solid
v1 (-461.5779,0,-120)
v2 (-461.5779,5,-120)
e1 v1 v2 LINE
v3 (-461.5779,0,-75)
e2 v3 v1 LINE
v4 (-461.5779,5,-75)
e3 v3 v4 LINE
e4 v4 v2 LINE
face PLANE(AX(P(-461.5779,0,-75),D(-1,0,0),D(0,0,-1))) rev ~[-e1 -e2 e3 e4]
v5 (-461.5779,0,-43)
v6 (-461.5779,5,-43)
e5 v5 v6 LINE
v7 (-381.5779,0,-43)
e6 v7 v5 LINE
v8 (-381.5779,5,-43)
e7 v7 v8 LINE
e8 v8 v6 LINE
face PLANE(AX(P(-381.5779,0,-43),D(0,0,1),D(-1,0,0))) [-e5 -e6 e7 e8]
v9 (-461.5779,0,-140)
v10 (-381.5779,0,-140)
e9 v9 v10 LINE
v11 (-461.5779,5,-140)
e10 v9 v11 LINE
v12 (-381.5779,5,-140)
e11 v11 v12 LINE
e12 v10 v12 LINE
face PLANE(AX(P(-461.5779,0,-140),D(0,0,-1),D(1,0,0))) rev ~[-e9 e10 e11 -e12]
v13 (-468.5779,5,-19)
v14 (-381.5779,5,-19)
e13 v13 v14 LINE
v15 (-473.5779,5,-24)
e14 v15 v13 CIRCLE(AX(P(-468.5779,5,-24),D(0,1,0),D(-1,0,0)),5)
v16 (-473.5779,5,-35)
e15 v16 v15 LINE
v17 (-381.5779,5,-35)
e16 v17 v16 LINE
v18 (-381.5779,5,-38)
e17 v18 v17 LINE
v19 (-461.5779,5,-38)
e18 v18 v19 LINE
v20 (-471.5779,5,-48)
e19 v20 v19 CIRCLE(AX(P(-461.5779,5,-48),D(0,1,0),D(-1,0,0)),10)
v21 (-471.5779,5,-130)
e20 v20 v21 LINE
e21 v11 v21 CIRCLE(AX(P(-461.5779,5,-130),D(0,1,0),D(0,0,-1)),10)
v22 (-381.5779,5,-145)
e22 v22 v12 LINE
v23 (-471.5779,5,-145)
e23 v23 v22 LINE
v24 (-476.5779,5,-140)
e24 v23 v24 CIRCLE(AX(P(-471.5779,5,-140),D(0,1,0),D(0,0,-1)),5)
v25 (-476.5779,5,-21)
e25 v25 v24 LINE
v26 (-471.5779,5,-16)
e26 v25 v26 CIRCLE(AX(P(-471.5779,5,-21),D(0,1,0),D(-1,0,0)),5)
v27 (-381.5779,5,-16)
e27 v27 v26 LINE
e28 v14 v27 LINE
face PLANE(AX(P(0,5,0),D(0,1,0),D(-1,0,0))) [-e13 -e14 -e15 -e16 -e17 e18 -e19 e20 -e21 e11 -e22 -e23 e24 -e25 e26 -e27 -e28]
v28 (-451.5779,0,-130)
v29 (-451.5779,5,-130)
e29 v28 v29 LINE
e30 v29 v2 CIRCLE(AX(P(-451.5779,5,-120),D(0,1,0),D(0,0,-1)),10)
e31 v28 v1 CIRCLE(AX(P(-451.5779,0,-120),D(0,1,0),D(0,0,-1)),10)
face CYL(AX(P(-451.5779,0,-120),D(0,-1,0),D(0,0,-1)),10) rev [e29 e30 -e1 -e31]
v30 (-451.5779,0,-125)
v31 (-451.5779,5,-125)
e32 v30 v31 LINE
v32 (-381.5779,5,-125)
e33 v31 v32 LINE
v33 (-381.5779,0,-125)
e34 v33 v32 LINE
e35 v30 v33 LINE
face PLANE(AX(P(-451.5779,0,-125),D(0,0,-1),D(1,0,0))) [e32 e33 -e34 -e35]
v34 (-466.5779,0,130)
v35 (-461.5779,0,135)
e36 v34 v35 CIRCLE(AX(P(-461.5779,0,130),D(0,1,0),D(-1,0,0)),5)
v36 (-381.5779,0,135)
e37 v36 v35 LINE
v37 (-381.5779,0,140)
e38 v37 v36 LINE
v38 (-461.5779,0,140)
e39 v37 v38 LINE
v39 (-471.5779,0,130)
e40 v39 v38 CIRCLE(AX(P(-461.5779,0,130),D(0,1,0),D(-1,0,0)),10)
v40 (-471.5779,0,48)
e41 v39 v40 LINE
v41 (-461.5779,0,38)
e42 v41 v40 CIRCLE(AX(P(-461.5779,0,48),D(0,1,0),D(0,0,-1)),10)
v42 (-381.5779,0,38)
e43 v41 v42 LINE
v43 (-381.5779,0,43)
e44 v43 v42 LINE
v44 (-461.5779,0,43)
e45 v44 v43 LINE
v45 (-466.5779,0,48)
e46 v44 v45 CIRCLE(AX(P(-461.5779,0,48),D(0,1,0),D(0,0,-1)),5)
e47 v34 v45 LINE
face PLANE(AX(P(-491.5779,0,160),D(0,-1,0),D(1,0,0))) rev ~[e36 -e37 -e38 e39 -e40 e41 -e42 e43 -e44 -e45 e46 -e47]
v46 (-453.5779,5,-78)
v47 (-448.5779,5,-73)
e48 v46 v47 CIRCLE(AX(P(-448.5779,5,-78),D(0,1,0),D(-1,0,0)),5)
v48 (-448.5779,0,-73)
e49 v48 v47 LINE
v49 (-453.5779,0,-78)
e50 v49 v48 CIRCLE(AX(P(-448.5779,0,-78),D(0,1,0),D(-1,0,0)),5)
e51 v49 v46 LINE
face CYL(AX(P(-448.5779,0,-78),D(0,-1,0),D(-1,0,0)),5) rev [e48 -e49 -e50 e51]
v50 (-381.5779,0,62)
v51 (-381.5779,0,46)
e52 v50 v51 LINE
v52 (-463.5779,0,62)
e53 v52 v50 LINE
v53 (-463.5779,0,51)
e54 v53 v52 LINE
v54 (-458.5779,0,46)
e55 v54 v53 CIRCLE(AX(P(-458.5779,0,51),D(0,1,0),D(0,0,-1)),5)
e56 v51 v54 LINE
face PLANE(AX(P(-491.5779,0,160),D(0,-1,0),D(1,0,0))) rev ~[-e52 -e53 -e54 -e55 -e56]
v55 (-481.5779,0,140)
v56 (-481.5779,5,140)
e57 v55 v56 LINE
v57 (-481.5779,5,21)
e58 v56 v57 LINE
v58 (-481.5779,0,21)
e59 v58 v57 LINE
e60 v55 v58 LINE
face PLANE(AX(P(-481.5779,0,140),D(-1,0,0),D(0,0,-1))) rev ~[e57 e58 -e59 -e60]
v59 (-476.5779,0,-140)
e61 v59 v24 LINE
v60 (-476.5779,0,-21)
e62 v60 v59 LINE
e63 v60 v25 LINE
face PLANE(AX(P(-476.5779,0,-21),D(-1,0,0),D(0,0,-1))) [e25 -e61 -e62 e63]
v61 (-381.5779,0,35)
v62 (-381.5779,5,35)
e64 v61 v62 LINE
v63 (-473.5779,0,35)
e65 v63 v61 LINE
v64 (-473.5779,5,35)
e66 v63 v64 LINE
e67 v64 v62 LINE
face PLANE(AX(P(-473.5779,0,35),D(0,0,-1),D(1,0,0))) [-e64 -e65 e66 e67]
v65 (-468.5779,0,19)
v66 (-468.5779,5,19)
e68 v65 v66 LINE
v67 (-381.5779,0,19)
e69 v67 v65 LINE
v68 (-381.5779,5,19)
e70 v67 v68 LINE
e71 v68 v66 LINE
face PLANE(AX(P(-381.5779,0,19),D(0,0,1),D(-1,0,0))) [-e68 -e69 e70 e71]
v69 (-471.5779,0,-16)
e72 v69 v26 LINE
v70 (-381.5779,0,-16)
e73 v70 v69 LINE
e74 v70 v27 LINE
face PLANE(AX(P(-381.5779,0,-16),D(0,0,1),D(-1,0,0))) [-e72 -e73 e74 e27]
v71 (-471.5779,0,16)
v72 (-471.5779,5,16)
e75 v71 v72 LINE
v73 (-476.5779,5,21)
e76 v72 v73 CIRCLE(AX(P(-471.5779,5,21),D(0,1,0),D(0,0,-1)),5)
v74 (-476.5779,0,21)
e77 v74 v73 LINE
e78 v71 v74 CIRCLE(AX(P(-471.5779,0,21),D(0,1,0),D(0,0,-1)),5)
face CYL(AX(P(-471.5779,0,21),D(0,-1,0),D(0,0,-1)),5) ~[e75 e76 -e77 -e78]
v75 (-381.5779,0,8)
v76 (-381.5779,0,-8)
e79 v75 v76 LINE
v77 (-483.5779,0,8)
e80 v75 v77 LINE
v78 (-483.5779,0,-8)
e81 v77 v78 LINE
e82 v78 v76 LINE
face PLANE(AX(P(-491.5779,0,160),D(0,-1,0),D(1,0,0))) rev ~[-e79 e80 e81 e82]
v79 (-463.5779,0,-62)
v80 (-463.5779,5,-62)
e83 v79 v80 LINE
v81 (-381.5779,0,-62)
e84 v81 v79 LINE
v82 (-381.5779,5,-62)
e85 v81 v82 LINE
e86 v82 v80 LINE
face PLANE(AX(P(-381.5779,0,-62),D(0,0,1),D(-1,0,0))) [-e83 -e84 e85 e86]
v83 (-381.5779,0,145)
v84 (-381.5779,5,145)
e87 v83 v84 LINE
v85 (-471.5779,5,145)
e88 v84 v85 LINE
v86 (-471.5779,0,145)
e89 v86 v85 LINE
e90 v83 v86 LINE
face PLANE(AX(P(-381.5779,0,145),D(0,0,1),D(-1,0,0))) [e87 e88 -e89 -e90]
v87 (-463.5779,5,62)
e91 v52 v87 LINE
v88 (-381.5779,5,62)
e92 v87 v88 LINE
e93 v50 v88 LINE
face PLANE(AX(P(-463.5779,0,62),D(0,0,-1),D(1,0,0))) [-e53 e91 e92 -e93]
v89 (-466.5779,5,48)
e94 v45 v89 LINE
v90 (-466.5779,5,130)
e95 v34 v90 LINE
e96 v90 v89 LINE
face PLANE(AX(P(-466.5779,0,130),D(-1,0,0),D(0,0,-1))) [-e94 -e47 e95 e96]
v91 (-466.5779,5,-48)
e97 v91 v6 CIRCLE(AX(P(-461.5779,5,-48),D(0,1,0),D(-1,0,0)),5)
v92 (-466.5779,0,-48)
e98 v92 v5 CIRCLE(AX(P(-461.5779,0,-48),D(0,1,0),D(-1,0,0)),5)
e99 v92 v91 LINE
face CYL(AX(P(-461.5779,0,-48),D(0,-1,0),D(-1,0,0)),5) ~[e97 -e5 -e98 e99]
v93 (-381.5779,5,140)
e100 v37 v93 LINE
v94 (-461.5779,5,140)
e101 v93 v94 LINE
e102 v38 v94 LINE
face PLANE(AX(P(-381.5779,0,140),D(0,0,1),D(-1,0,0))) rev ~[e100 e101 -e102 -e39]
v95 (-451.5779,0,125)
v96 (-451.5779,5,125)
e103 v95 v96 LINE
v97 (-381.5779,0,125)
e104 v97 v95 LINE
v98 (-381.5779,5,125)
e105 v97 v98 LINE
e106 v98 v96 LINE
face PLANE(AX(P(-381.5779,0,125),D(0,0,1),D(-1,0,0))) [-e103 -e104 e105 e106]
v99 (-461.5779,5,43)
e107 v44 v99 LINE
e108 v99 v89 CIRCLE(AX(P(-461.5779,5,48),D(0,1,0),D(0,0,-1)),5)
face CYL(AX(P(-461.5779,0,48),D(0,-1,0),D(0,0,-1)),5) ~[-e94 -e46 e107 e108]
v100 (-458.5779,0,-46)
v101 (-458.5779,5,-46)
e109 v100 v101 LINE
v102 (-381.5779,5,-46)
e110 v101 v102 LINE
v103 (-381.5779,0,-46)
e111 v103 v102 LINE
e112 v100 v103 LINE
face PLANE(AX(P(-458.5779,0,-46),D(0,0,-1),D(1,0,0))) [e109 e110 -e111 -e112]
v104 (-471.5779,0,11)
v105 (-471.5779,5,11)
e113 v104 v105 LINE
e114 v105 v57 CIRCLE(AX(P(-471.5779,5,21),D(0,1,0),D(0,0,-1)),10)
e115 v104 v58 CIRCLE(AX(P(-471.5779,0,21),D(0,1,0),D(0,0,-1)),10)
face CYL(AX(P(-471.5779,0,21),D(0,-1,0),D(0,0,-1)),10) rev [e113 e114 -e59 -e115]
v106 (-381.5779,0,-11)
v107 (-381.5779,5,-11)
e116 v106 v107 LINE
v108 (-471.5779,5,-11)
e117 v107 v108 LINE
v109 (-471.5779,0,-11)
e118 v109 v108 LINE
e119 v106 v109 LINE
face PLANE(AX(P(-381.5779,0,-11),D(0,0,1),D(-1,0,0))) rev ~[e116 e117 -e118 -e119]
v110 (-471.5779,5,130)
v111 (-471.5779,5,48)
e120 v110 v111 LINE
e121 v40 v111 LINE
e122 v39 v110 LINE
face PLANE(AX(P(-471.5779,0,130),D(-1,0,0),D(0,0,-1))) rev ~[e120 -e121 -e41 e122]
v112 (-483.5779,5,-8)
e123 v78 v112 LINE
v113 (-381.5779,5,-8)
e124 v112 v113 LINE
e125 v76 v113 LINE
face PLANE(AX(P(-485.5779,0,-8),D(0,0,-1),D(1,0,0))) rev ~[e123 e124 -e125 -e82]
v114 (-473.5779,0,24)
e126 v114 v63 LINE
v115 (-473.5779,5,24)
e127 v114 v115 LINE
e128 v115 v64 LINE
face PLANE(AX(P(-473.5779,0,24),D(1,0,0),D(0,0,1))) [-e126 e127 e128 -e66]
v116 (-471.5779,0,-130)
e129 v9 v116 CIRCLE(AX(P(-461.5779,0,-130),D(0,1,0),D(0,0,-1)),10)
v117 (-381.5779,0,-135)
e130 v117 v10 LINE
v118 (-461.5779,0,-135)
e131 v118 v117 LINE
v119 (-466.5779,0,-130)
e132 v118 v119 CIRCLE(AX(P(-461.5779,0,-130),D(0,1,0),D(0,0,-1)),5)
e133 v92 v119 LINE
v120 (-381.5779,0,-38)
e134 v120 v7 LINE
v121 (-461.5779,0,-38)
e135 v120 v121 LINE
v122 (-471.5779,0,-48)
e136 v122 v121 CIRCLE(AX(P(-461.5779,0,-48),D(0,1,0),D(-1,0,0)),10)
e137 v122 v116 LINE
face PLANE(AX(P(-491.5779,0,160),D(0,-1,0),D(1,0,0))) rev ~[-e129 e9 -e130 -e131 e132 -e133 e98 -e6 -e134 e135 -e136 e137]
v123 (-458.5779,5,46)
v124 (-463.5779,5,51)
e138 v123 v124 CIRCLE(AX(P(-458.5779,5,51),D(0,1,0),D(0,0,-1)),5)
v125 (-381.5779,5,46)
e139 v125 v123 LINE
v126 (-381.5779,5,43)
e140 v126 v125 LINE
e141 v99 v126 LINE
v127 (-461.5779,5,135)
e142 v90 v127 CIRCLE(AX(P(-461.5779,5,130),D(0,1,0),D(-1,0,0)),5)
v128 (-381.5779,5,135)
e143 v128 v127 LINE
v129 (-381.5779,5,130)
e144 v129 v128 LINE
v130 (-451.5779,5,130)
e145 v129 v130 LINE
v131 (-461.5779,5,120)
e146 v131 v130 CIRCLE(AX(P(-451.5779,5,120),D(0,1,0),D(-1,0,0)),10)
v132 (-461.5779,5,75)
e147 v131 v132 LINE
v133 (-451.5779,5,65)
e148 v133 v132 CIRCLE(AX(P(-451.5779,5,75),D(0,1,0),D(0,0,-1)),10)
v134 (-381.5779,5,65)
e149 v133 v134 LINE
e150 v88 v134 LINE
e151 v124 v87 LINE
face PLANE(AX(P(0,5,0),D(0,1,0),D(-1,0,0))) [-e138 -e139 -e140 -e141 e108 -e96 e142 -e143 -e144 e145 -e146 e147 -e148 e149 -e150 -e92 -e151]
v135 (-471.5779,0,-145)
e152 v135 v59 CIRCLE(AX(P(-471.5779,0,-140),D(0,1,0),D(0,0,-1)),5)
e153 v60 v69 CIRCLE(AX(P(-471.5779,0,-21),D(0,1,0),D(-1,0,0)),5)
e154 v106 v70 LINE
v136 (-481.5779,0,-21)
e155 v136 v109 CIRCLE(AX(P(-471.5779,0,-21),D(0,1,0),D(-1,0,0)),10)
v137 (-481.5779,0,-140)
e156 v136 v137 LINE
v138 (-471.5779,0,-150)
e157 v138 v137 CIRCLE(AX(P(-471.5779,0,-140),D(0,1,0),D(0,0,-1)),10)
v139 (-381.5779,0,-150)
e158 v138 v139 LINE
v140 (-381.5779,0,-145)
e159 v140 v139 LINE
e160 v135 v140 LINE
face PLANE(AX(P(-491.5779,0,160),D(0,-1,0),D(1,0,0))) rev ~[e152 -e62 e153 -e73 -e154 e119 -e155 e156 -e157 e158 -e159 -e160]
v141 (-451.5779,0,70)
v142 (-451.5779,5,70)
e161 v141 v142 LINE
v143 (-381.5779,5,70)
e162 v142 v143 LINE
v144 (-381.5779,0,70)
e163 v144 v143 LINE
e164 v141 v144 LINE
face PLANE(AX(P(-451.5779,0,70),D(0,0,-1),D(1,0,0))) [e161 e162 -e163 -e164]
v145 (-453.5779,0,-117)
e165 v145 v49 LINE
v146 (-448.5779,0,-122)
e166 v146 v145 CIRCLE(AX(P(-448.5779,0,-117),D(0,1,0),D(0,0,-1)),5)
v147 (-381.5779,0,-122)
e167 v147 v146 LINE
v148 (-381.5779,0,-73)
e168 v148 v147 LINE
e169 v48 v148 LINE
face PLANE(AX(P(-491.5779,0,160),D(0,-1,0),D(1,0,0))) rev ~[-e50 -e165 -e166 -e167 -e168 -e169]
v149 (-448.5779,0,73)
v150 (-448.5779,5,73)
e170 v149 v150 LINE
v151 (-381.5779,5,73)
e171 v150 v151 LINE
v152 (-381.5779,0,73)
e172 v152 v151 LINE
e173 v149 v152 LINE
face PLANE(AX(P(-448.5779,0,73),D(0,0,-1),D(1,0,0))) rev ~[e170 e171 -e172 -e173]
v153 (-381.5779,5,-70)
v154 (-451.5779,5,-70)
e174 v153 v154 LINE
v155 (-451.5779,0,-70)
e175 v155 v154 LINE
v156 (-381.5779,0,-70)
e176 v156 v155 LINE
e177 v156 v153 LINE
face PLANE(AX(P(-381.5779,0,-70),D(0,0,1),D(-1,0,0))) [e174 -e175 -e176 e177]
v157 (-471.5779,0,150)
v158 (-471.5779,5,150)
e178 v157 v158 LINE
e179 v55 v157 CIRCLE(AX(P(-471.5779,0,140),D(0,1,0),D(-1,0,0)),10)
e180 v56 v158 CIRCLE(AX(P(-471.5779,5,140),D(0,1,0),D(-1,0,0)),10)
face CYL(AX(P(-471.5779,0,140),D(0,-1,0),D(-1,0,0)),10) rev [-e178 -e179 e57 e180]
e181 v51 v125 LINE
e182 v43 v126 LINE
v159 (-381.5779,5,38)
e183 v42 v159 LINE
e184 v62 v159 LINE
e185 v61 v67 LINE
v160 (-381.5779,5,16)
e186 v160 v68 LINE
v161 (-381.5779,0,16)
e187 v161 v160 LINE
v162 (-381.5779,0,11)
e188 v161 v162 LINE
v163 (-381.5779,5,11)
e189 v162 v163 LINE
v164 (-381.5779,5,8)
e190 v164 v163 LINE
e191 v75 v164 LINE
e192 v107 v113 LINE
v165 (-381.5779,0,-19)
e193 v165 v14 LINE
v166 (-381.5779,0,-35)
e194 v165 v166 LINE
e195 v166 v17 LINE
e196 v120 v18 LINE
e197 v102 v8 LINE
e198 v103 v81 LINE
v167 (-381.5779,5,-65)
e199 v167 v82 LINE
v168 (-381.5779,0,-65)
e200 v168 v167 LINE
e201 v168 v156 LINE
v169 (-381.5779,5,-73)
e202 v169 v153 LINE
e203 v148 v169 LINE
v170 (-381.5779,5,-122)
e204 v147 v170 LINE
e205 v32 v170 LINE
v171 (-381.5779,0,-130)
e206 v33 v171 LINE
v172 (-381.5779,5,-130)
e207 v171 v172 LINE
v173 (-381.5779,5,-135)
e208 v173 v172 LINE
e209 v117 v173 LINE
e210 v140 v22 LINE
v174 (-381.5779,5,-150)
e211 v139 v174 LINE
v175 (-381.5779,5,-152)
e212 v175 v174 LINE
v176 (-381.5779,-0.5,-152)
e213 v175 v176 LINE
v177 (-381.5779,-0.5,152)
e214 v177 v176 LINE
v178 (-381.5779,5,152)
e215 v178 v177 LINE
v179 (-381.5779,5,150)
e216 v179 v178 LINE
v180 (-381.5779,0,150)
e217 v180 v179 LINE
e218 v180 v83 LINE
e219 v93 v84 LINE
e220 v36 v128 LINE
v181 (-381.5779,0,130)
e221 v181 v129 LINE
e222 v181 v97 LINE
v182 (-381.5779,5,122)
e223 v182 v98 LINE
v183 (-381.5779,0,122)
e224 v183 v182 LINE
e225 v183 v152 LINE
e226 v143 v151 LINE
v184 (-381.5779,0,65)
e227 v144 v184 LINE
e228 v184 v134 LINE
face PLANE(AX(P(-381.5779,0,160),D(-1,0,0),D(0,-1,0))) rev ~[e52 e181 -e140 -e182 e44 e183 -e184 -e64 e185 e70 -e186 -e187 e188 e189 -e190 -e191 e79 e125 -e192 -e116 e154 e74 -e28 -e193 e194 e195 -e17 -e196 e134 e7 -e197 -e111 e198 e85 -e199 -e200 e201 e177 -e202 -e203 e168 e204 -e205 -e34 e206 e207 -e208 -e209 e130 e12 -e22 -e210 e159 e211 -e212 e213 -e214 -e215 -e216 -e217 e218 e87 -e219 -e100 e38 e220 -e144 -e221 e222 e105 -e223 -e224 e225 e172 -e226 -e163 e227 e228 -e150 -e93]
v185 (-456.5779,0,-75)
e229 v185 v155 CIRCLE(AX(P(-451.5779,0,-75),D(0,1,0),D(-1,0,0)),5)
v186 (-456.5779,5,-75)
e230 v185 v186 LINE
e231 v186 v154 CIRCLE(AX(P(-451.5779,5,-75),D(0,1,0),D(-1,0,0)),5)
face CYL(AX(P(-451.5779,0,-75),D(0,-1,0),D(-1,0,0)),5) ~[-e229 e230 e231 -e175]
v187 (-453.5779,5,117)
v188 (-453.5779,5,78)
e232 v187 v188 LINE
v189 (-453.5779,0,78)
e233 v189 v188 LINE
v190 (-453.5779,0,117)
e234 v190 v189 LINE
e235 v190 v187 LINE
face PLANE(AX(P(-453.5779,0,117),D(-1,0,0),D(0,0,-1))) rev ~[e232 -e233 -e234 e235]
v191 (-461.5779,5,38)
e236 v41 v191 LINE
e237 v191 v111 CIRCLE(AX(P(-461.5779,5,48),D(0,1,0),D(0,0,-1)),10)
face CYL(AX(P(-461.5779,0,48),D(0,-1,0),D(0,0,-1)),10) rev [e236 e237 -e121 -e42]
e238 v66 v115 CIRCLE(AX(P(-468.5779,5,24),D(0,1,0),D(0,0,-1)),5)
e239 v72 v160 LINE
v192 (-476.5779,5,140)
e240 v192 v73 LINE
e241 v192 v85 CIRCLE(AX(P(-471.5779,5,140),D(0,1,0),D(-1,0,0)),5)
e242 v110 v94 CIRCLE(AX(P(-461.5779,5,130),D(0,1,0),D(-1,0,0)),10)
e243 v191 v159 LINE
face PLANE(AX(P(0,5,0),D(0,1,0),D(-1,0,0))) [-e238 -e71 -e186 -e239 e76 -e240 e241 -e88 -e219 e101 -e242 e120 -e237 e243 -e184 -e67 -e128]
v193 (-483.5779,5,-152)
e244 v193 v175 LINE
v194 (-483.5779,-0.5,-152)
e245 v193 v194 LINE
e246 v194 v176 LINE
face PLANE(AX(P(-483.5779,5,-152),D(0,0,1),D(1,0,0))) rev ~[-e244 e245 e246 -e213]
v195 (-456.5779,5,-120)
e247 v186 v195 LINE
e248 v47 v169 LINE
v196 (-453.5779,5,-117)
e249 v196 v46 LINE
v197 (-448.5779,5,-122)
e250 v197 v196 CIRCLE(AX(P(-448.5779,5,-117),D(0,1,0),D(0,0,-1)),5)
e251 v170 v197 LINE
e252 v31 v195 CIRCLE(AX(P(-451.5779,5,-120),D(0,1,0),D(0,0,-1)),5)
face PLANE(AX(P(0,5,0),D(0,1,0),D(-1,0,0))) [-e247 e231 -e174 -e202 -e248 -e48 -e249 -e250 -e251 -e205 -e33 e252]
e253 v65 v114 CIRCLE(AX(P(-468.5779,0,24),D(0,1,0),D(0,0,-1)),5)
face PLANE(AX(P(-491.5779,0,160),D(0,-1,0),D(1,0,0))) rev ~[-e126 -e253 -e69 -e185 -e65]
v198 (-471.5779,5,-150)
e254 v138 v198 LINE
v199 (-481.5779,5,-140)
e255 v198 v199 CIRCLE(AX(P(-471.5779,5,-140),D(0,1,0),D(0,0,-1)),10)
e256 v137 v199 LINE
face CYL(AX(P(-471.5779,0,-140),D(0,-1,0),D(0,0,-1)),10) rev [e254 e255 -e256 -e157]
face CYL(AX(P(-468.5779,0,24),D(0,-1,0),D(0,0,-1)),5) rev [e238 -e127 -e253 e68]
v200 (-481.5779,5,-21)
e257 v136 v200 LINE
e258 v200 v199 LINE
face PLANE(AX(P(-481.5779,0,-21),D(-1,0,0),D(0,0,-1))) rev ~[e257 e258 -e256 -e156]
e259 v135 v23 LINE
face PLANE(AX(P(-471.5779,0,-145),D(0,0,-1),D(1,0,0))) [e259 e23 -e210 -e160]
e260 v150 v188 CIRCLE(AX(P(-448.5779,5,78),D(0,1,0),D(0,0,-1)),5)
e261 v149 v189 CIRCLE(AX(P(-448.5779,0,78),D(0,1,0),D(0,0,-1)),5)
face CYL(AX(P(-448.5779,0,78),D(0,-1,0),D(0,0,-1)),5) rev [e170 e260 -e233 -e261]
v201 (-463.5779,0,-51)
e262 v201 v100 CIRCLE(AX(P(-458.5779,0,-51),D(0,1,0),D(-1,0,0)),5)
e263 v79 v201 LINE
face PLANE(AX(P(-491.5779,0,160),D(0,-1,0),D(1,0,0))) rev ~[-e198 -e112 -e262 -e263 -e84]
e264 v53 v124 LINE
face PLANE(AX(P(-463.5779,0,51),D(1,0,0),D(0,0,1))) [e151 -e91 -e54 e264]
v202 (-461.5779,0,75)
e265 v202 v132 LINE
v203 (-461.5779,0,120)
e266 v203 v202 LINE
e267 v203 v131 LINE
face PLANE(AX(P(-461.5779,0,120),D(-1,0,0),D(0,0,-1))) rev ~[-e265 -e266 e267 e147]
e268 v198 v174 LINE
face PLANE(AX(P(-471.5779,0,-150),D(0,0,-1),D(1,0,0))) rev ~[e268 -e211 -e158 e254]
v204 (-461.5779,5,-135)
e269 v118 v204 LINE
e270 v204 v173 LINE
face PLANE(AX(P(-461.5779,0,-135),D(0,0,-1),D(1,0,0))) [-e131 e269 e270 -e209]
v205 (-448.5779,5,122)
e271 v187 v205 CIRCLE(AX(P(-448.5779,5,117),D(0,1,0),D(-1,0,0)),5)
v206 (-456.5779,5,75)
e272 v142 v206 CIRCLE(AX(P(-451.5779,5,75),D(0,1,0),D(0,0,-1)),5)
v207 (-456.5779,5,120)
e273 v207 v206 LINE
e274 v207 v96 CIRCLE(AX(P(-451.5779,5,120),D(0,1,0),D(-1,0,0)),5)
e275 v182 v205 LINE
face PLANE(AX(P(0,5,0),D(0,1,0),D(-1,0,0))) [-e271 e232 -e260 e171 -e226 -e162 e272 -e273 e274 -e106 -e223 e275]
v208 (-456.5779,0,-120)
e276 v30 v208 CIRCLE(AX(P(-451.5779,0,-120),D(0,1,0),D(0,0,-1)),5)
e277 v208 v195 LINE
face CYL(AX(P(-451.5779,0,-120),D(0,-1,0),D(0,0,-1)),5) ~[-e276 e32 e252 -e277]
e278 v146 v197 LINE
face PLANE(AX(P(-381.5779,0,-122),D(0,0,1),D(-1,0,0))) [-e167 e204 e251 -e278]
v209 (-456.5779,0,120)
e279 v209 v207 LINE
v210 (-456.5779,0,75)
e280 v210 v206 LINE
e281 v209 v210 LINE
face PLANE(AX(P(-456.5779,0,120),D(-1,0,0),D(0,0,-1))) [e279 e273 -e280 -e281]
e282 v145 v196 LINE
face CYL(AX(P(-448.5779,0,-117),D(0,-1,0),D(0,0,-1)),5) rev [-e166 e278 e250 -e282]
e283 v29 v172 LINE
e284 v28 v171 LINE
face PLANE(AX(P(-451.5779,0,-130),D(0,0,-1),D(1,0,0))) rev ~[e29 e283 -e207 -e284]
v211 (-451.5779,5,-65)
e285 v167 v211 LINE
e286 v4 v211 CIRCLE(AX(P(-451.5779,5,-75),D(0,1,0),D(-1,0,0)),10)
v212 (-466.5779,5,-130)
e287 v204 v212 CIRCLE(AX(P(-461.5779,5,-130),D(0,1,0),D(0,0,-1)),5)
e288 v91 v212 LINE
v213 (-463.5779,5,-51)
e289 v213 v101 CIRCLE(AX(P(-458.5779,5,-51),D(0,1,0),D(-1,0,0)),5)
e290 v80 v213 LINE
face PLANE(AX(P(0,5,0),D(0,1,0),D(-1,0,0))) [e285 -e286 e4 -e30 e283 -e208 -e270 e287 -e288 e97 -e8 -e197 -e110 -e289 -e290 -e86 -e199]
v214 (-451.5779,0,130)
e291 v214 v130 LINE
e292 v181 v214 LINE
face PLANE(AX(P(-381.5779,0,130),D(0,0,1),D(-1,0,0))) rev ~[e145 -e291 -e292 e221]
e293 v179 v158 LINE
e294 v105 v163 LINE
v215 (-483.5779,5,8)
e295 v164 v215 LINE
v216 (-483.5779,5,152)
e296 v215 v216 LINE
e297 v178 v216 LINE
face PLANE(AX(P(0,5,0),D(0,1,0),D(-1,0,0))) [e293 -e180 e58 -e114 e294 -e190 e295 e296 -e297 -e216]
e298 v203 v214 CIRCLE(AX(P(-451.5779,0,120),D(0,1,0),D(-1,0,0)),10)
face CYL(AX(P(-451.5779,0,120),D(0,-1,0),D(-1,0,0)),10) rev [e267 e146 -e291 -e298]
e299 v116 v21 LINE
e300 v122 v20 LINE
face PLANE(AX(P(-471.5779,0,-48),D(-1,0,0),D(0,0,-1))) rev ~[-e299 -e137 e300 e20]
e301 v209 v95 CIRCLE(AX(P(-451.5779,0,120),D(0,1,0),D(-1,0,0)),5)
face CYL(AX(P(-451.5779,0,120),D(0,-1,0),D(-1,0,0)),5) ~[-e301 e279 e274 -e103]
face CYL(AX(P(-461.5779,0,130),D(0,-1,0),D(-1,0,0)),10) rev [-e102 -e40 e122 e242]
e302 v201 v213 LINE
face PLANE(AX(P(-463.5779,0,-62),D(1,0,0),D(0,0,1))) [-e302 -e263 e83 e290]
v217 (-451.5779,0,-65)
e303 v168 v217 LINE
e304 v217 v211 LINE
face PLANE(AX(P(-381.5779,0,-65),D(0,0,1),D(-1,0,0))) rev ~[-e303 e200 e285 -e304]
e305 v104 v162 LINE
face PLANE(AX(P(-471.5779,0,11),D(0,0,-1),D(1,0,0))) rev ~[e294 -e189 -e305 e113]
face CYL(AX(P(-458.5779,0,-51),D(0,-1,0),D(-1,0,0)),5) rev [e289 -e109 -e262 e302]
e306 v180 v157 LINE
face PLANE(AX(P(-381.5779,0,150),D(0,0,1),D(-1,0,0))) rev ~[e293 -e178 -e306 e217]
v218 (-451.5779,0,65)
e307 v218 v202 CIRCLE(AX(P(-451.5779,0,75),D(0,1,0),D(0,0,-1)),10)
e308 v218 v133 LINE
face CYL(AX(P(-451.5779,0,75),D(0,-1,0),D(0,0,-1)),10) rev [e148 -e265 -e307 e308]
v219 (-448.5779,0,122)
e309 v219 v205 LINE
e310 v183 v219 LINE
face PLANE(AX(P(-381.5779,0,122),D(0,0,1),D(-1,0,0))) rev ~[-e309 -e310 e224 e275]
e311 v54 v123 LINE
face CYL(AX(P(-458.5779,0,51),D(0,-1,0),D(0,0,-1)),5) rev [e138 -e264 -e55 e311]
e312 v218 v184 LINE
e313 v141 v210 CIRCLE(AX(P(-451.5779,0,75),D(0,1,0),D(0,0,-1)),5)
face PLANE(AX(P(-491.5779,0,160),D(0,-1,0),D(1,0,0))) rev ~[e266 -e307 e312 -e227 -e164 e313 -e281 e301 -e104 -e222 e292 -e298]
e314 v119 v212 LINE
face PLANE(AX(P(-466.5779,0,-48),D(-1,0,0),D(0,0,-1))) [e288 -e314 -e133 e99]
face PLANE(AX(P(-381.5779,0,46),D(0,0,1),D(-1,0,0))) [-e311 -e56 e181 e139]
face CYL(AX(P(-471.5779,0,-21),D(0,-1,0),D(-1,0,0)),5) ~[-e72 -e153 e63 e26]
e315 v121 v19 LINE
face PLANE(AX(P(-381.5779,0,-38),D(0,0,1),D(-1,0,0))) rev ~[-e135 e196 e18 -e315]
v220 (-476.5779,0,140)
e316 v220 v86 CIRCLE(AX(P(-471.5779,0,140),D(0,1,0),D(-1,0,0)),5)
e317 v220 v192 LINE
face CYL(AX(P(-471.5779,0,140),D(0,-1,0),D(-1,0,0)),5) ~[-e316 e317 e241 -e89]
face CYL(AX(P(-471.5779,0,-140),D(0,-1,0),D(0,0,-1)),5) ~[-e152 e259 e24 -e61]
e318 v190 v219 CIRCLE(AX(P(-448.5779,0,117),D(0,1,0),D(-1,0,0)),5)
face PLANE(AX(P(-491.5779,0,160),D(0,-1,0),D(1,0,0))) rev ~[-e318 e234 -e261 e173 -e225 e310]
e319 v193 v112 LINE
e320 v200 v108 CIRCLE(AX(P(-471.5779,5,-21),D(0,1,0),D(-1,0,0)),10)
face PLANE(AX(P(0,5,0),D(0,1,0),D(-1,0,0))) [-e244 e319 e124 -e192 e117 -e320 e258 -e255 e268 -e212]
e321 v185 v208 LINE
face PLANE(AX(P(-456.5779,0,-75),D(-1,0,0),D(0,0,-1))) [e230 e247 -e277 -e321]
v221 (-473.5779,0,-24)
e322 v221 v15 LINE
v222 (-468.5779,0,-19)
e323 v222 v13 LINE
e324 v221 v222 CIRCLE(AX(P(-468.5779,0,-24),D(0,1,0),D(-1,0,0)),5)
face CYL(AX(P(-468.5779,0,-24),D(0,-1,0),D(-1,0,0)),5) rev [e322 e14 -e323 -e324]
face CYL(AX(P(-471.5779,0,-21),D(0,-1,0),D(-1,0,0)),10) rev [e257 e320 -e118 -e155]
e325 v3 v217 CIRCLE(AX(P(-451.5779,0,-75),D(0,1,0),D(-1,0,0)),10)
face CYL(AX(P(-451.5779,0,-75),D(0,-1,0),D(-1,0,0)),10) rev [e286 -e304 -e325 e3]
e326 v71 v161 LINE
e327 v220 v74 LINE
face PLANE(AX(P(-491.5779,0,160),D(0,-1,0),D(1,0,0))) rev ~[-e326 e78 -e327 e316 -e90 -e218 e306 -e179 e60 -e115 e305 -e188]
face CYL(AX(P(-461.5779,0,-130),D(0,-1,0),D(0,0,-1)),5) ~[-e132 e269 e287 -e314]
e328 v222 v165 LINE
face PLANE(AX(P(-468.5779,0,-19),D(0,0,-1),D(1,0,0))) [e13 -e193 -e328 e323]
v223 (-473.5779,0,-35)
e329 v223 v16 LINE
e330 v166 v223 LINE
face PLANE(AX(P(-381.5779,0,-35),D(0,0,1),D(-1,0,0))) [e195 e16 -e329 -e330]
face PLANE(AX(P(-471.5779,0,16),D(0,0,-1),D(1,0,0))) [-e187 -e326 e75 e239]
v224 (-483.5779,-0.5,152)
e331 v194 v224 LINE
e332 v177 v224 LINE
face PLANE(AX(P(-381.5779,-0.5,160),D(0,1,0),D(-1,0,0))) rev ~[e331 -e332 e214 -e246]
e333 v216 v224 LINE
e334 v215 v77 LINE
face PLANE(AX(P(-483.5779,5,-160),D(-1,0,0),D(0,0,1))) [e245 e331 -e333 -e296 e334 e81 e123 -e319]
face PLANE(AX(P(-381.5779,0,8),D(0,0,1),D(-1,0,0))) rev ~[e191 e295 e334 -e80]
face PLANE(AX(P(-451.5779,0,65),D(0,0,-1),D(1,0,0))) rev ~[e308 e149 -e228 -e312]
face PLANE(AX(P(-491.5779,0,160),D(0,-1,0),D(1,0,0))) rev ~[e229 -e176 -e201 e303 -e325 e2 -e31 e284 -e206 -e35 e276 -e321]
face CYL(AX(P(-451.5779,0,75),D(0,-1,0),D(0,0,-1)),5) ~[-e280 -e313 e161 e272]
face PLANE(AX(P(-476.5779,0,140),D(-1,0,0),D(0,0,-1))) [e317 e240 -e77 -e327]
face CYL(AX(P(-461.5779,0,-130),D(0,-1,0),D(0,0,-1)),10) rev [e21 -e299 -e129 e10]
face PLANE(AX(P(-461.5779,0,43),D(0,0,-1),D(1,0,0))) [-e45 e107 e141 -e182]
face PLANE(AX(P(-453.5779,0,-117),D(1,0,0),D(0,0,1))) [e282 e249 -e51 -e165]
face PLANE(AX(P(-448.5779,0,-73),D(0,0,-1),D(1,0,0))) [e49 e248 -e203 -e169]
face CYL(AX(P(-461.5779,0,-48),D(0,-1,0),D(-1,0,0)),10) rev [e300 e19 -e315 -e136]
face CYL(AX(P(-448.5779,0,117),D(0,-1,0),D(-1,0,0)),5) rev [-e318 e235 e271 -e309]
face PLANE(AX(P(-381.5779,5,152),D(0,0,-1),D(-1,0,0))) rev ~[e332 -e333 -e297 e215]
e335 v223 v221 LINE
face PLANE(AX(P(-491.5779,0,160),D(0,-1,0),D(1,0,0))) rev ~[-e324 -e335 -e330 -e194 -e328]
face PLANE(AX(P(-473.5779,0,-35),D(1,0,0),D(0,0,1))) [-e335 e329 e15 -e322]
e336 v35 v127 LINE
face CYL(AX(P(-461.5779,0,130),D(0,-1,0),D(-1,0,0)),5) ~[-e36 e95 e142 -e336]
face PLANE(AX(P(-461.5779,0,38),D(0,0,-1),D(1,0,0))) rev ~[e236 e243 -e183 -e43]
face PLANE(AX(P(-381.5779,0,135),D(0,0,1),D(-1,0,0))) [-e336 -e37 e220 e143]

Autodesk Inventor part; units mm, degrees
ref_plane "YZ Plane" through (0, 0, 0) normal (1, 0, 0) x (0, 1, 0)
ref_plane "XZ Plane" through (0, 0, 0) normal (0, 1, 0) x (-1, 0, 0)
ref_plane "XY Plane" through (0, 0, 0) normal (0, 0, 1) x (1, 0, 0)
sketch "Sketch1" plane through (0, 0, 0) normal (0, 1, 0) x (-1, 0, 0)
  line L0 (381.5779, 150) -> (471.5779, 150)
  line L1 (481.5779, 140) -> (481.5779, 21)
  line L2 (381.5779, 145) -> (471.5779, 145)
  line L3 (476.5779, 140) -> (476.5779, 21)
  line L4 (471.5779, 16) -> (381.5779, 16)
  line L5 (471.5779, 11) -> (381.5779, 11)
  line L6 (381.5779, 135) -> (461.5779, 135)
  line L7 (381.5779, 140) -> (461.5779, 140)
  line L8 (466.5779, 130) -> (466.5779, 48)
  line L9 (461.5779, 43) -> (381.5779, 43)
  line L10 (471.5779, 130) -> (471.5779, 48)
  line L11 (461.5779, 38) -> (381.5779, 38)
  line L12 (381.5779, 125) -> (451.5779, 125)
  line L13 (456.5779, 120) -> (456.5779, 75)
  line L14 (451.5779, 70) -> (381.5779, 70)
  line L15 (381.5779, 130) -> (451.5779, 130)
  line L16 (461.5779, 120) -> (461.5779, 75)
  line L17 (451.5779, 65) -> (381.5779, 65)
  line L18 (381.5779, -11) -> (471.5779, -11)
  line L19 (481.5779, -21) -> (481.5779, -140)
  line L20 (471.5779, -150) -> (381.5779, -150)
  line L21 (381.5779, -16) -> (471.5779, -16)
  line L22 (476.5779, -21) -> (476.5779, -140)
  line L23 (471.5779, -145) -> (381.5779, -145)
  line L24 (381.5779, -38) -> (461.5779, -38)
  line L25 (471.5779, -48) -> (471.5779, -130)
  line L26 (461.5779, -140) -> (381.5779, -140)
  line L27 (381.5779, -43) -> (461.5779, -43)
  line L28 (466.5779, -48) -> (466.5779, -130)
  line L29 (461.5779, -135) -> (381.5779, -135)
  line L30 (381.5779, -65) -> (451.5779, -65)
  line L31 (461.5779, -75) -> (461.5779, -120)
  line L32 (381.5779, -70) -> (451.5779, -70)
  line L33 (456.5779, -75) -> (456.5779, -120)
  line L34 (451.5779, -125) -> (381.5779, -125)
  line L35 (451.5779, -130) -> (381.5779, -130)
  line L36 (491.5779, 160) -> (491.5779, -160)
  line L37 (491.5779, -160) -> (381.5779, -160)
  line L38 (381.5779, 160) -> (491.5779, 160)
  line L39 (381.5779, -212.9987) -> (381.5779, 354.6855) construction
  line L40 (381.5779, -160) -> (381.5779, 160)
  line L41 (381.5779, 122) -> (448.5779, 122)
  line L42 (453.5779, 117) -> (453.5779, 78)
  line L43 (448.5779, 73) -> (381.5779, 73)
  line L44 (381.5779, 73) -> (381.5779, 122)
  line L45 (463.5779, 62) -> (381.5779, 62)
  line L46 (381.5779, 62) -> (381.5779, 46)
  line L47 (381.5779, 46) -> (458.5779, 46)
  line L48 (463.5779, 51) -> (463.5779, 62)
  line L49 (381.5779, 8) -> (485.5779, 8)
  line L50 (485.5779, 8) -> (485.5779, -8)
  line L51 (485.5779, -8) -> (381.5779, -8)
  line L52 (381.5779, -8) -> (381.5779, 8)
  line L53 (473.5779, 35) -> (381.5779, 35)
  line L54 (381.5779, 35) -> (381.5779, 19)
  line L55 (381.5779, 19) -> (468.5779, 19)
  line L56 (473.5779, 24) -> (473.5779, 35)
  line L57 (468.5779, -19) -> (381.5779, -19)
  line L58 (381.5779, -19) -> (381.5779, -35)
  line L59 (381.5779, -35) -> (473.5779, -35)
  line L60 (473.5779, -35) -> (473.5779, -24)
  line L61 (458.5779, -46) -> (381.5779, -46)
  line L62 (381.5779, -46) -> (381.5779, -62)
  line L63 (381.5779, -62) -> (463.5779, -62)
  line L64 (463.5779, -62) -> (463.5779, -51)
  line L65 (448.5779, -73) -> (381.5779, -73)
  line L66 (381.5779, -73) -> (381.5779, -122)
  line L67 (381.5779, -122) -> (448.5779, -122)
  line L68 (453.5779, -117) -> (453.5779, -78)
  line L69 (461.5779, 130) -> (456.5779, 130) construction
  line L70 (456.5779, 130) -> (456.5779, 125) construction
  line L71 (456.5779, 125) -> (461.5779, 125) construction
  line L72 (461.5779, 125) -> (461.5779, 130) construction
  line L73 (456.5779, 125) -> (451.5779, 125) construction
  line L74 (451.5779, 125) -> (451.5779, 120) construction
  line L75 (451.5779, 120) -> (456.5779, 120) construction
  line L76 (456.5779, 120) -> (456.5779, 125) construction
  arc A0 (456.5779, 120) -> (451.5779, 125) centre (451.5779, 120) ccw
  arc A1 (461.5779, 120) -> (451.5779, 130) centre (451.5779, 120) ccw
  arc A2 (471.5779, 130) -> (461.5779, 140) centre (461.5779, 130) ccw
  arc A3 (466.5779, 130) -> (461.5779, 135) centre (461.5779, 130) ccw
  arc A4 (476.5779, 140) -> (471.5779, 145) centre (471.5779, 140) ccw
  arc A5 (481.5779, 140) -> (471.5779, 150) centre (471.5779, 140) ccw
  arc A6 (453.5779, 117) -> (448.5779, 122) centre (448.5779, 117) ccw
  arc A7 (448.5779, 73) -> (453.5779, 78) centre (448.5779, 78) ccw
  arc A8 (451.5779, 70) -> (456.5779, 75) centre (451.5779, 75) ccw
  arc A9 (451.5779, 65) -> (461.5779, 75) centre (451.5779, 75) ccw
  arc A10 (461.5779, 38) -> (471.5779, 48) centre (461.5779, 48) ccw
  arc A11 (471.5779, 11) -> (481.5779, 21) centre (471.5779, 21) ccw
  arc A12 (471.5779, 16) -> (476.5779, 21) centre (471.5779, 21) ccw
  arc A13 (461.5779, 43) -> (466.5779, 48) centre (461.5779, 48) ccw
  arc A14 (458.5779, 46) -> (463.5779, 51) centre (458.5779, 51) ccw
  arc A15 (468.5779, 19) -> (473.5779, 24) centre (468.5779, 24) ccw
  arc A16 (453.5779, -78) -> (448.5779, -73) centre (448.5779, -78) ccw
  arc A17 (456.5779, -75) -> (451.5779, -70) centre (451.5779, -75) ccw
  arc A18 (451.5779, -125) -> (456.5779, -120) centre (451.5779, -120) ccw
  arc A19 (448.5779, -122) -> (453.5779, -117) centre (448.5779, -117) ccw
  arc A20 (461.5779, -75) -> (451.5779, -65) centre (451.5779, -75) ccw
  arc A21 (451.5779, -130) -> (461.5779, -120) centre (451.5779, -120) ccw
  arc A22 (461.5779, -140) -> (471.5779, -130) centre (461.5779, -130) ccw
  arc A23 (461.5779, -135) -> (466.5779, -130) centre (461.5779, -130) ccw
  arc A24 (466.5779, -48) -> (461.5779, -43) centre (461.5779, -48) ccw
  arc A25 (463.5779, -51) -> (458.5779, -46) centre (458.5779, -51) ccw
  arc A26 (471.5779, -48) -> (461.5779, -38) centre (461.5779, -48) ccw
  arc A27 (471.5779, -150) -> (481.5779, -140) centre (471.5779, -140) ccw
  arc A28 (481.5779, -21) -> (471.5779, -11) centre (471.5779, -21) ccw
  arc A29 (476.5779, -21) -> (471.5779, -16) centre (471.5779, -21) ccw
  arc A30 (473.5779, -24) -> (468.5779, -19) centre (468.5779, -24) ccw
  arc A31 (471.5779, -145) -> (476.5779, -140) centre (471.5779, -140) ccw
  point P0 (481.5779, 150)
  point P1 (481.5779, 11)
  point P2 (476.5779, 145)
  point P3 (476.5779, 16)
  point P4 (466.5779, 135)
  point P5 (466.5779, 43)
  point P6 (471.5779, 38)
  point P7 (456.5779, 70)
  point P8 (461.5779, 65)
  point P9 (481.5779, -11)
  point P10 (481.5779, -150)
  point P11 (476.5779, -16)
  point P12 (476.5779, -145)
  point P13 (471.5779, -38)
  point P14 (471.5779, -140)
  point P15 (466.5779, -43)
  point P16 (466.5779, -135)
  point P17 (461.5779, -65)
  point P18 (461.5779, -130)
  point P19 (456.5779, -70)
  point P20 (456.5779, -125)
  point P21 (453.5779, 73)
  point P22 (453.5779, 122)
  point P23 (463.5779, 46)
  point P24 (473.5779, 19)
  point P25 (473.5779, -19)
  point P26 (463.5779, -46)
  point P27 (453.5779, -73)
  point P28 (453.5779, -122)
  dimension "d3" = 5
  dimension "d4" = 5
  dimension "d7" = 5
  dimension "d8" = 5
  dimension "d9" = 5
  dimension "d10" = 5
  dimension "d14" = 5
  dimension "d16" = 5
  dimension "d18" = 5
  dimension "d19" = 5
  dimension "d20" = 22
  dimension "d21" = 5
  dimension "d22" = 5
  dimension "d30" = 5
  dimension "d31" = 5
  dimension "d32" = 5
  dimension "d36" = 5
  dimension "d37" = 5
  dimension "d38" = 5
  dimension "d40" = 5
  dimension "d43" = 5
  dimension "d44" = 5
  dimension "d45" = 5
  dimension "d48" = 5
  dimension "d49" = 5
  dimension "d57" = 10
  dimension "d63" = 110
  dimension "d64" = 3
  dimension "d65" = 3
  dimension "d66" = 3
  dimension "d67" = 3
  dimension "d68" = 3
  dimension "d69" = 3
  dimension "d70" = 6
  dimension "d71" = 3
  dimension "d72" = 3
  dimension "d73" = 3
  dimension "d74" = 3
  dimension "d75" = 3
  dimension "d76" = 3
  dimension "d77" = 3
  dimension "d78" = 3
  dimension "d79" = 3
  dimension "d80" = 3
  dimension "d81" = 3
  dimension "d82" = 3
  dimension "d83" = 3
  dimension "d84" = 3
  dimension "d90" = 5
  dimension "d91" = 5
  dimension "d92" = 5
  dimension "d93" = 10
extrude "Extrusion1" add sketch "Sketch1" along normal blind 5 contours L40 L38 L36 L37 L20 A27 L19 A28 L18 L51 L50 L49 L5 A11 L1 A5 L0 | L2 A4 L3 A12 L4 L40 L55 A15 L56 L53 L11 A10 L10 A2 L7 | L6 A3 L8 A13 L9 L40 L47 A14 L48 L45 L17 A9 L16 A1 L15 | L12 A0 L13 A8 L14 L40 L43 A7 L42 A6 L41 | L40 L26 A22 L25 A26 L24 L59 L60 A30 L57 L21 A29 L22 A31 L23 | L40 L35 A21 L31 A20 L30 L63 L64 A25 L61 L27 A24 L28 A23 L29 | L40 L67 A19 L68 A16 L65 L32 A17 L33 A18 L34
sketch "Sketch2" plane through (-491.5779, 0, 160) normal (0, 0, 1) x (1, 0, 0)
  line L0 (0, 0) -> (0, 5) projected
  line L1 (0, 0) -> (110, 0)
  line L2 (110, 0) -> (110, -0.5)
  line L3 (110, -0.5) -> (0, -0.5)
  line L4 (0, -0.5) -> (0, 0)
  point P0 (491.5779, 0)
  dimension "d87" = 0.5
extrude "Extrusion2" add sketch "Sketch2" against normal blind 320
sketch "Sketch3" plane through (0, 5, 0) normal (0, 1, 0) x (1, 0, 0)
  line L0 (-491.5779, 160) -> (-491.5779, -160) projected
  line L1 (-491.5779, -160) -> (-381.5779, -160) projected
  line L2 (-491.5779, 160) -> (-483.5779, 160)
  line L3 (-483.5779, 160) -> (-483.5779, -160)
  line L4 (-483.5779, -160) -> (-491.5779, -160)
  line L5 (-491.5779, -160) -> (-491.5779, 160)
  line L6 (-481.5779, -140) -> (-481.5779, -21) projected
  point P0 (0, 0)
  dimension "d94" = 2
extrude "Extrusion3" cut sketch "Sketch3" against normal blind 13.175
sketch "Sketch4" plane through (0, 5, 0) normal (0, 1, 0) x (1, 0, 0)
  line L0 (-381.5779, 160) -> (-483.5779, 160) projected
  line L1 (-483.5779, 160) -> (-483.5779, 8) projected
  line L2 (-381.5779, 160) -> (-483.5779, 160)
  line L3 (-483.5779, 160) -> (-483.5779, 152)
  line L4 (-483.5779, 152) -> (-381.5779, 152)
  line L5 (-381.5779, 152) -> (-381.5779, 160)
  line L6 (-471.5779, 150) -> (-381.5779, 150) projected
  line L7 (-483.5779, -160) -> (-483.5779, 160) projected
  line L8 (-381.5779, -160) -> (-381.5779, -150) projected
  line L9 (-483.5779, -160) -> (-381.5779, -160)
  line L10 (-381.5779, -160) -> (-381.5779, -152)
  line L11 (-381.5779, -152) -> (-483.5779, -152)
  line L12 (-483.5779, -152) -> (-483.5779, -160)
  line L13 (-381.5779, -150) -> (-471.5779, -150) projected
  point P0 (0, 0)
  dimension "d97" = 2
  dimension "d98" = 2
extrude "Extrusion4" cut sketch "Sketch4" against normal blind 13.175
equation "\"d3\" = d25"
equation "\"d4\" = d25"
equation "\"d7\" = d25"
equation "\"d8\" = d25"
equation "\"d9\" = d25"
equation "\"d10\" = d26"
equation "\"d14\" = d25"
equation "\"d16\" = d26"
equation "\"d18\" = d25"
equation "\"d19\" = d25"
equation "\"d20\" = d28"
equation "\"d21\" = d25"
equation "\"d22\" = d25"
equation "\"d30\" = d51"
equation "\"d31\" = d51"
equation "\"d32\" = d51"
equation "\"d36\" = d51"
equation "\"d37\" = d53"
equation "\"d38\" = d51"
equation "\"d40\" = d51"
equation "\"d43\" = d51"
equation "\"d44\" = d51"
equation "\"d45\" = d53"
equation "\"d48\" = d51"
equation "\"d49\" = d53"
equation "\"d25\" = 5"
equation "\"d26\" = 5"
equation "\"d28\" = -1.2 * d25 + 0.2 * d29"
equation "\"d51\" = 5"
equation "\"d53\" = 5"
equation "\"d54\" = -1.2 * d51 + 0.2 * d55"
equation "\"d29\" = 140"
equation "\"d55\" = 140"
properties part number "wire_holder_half1"
